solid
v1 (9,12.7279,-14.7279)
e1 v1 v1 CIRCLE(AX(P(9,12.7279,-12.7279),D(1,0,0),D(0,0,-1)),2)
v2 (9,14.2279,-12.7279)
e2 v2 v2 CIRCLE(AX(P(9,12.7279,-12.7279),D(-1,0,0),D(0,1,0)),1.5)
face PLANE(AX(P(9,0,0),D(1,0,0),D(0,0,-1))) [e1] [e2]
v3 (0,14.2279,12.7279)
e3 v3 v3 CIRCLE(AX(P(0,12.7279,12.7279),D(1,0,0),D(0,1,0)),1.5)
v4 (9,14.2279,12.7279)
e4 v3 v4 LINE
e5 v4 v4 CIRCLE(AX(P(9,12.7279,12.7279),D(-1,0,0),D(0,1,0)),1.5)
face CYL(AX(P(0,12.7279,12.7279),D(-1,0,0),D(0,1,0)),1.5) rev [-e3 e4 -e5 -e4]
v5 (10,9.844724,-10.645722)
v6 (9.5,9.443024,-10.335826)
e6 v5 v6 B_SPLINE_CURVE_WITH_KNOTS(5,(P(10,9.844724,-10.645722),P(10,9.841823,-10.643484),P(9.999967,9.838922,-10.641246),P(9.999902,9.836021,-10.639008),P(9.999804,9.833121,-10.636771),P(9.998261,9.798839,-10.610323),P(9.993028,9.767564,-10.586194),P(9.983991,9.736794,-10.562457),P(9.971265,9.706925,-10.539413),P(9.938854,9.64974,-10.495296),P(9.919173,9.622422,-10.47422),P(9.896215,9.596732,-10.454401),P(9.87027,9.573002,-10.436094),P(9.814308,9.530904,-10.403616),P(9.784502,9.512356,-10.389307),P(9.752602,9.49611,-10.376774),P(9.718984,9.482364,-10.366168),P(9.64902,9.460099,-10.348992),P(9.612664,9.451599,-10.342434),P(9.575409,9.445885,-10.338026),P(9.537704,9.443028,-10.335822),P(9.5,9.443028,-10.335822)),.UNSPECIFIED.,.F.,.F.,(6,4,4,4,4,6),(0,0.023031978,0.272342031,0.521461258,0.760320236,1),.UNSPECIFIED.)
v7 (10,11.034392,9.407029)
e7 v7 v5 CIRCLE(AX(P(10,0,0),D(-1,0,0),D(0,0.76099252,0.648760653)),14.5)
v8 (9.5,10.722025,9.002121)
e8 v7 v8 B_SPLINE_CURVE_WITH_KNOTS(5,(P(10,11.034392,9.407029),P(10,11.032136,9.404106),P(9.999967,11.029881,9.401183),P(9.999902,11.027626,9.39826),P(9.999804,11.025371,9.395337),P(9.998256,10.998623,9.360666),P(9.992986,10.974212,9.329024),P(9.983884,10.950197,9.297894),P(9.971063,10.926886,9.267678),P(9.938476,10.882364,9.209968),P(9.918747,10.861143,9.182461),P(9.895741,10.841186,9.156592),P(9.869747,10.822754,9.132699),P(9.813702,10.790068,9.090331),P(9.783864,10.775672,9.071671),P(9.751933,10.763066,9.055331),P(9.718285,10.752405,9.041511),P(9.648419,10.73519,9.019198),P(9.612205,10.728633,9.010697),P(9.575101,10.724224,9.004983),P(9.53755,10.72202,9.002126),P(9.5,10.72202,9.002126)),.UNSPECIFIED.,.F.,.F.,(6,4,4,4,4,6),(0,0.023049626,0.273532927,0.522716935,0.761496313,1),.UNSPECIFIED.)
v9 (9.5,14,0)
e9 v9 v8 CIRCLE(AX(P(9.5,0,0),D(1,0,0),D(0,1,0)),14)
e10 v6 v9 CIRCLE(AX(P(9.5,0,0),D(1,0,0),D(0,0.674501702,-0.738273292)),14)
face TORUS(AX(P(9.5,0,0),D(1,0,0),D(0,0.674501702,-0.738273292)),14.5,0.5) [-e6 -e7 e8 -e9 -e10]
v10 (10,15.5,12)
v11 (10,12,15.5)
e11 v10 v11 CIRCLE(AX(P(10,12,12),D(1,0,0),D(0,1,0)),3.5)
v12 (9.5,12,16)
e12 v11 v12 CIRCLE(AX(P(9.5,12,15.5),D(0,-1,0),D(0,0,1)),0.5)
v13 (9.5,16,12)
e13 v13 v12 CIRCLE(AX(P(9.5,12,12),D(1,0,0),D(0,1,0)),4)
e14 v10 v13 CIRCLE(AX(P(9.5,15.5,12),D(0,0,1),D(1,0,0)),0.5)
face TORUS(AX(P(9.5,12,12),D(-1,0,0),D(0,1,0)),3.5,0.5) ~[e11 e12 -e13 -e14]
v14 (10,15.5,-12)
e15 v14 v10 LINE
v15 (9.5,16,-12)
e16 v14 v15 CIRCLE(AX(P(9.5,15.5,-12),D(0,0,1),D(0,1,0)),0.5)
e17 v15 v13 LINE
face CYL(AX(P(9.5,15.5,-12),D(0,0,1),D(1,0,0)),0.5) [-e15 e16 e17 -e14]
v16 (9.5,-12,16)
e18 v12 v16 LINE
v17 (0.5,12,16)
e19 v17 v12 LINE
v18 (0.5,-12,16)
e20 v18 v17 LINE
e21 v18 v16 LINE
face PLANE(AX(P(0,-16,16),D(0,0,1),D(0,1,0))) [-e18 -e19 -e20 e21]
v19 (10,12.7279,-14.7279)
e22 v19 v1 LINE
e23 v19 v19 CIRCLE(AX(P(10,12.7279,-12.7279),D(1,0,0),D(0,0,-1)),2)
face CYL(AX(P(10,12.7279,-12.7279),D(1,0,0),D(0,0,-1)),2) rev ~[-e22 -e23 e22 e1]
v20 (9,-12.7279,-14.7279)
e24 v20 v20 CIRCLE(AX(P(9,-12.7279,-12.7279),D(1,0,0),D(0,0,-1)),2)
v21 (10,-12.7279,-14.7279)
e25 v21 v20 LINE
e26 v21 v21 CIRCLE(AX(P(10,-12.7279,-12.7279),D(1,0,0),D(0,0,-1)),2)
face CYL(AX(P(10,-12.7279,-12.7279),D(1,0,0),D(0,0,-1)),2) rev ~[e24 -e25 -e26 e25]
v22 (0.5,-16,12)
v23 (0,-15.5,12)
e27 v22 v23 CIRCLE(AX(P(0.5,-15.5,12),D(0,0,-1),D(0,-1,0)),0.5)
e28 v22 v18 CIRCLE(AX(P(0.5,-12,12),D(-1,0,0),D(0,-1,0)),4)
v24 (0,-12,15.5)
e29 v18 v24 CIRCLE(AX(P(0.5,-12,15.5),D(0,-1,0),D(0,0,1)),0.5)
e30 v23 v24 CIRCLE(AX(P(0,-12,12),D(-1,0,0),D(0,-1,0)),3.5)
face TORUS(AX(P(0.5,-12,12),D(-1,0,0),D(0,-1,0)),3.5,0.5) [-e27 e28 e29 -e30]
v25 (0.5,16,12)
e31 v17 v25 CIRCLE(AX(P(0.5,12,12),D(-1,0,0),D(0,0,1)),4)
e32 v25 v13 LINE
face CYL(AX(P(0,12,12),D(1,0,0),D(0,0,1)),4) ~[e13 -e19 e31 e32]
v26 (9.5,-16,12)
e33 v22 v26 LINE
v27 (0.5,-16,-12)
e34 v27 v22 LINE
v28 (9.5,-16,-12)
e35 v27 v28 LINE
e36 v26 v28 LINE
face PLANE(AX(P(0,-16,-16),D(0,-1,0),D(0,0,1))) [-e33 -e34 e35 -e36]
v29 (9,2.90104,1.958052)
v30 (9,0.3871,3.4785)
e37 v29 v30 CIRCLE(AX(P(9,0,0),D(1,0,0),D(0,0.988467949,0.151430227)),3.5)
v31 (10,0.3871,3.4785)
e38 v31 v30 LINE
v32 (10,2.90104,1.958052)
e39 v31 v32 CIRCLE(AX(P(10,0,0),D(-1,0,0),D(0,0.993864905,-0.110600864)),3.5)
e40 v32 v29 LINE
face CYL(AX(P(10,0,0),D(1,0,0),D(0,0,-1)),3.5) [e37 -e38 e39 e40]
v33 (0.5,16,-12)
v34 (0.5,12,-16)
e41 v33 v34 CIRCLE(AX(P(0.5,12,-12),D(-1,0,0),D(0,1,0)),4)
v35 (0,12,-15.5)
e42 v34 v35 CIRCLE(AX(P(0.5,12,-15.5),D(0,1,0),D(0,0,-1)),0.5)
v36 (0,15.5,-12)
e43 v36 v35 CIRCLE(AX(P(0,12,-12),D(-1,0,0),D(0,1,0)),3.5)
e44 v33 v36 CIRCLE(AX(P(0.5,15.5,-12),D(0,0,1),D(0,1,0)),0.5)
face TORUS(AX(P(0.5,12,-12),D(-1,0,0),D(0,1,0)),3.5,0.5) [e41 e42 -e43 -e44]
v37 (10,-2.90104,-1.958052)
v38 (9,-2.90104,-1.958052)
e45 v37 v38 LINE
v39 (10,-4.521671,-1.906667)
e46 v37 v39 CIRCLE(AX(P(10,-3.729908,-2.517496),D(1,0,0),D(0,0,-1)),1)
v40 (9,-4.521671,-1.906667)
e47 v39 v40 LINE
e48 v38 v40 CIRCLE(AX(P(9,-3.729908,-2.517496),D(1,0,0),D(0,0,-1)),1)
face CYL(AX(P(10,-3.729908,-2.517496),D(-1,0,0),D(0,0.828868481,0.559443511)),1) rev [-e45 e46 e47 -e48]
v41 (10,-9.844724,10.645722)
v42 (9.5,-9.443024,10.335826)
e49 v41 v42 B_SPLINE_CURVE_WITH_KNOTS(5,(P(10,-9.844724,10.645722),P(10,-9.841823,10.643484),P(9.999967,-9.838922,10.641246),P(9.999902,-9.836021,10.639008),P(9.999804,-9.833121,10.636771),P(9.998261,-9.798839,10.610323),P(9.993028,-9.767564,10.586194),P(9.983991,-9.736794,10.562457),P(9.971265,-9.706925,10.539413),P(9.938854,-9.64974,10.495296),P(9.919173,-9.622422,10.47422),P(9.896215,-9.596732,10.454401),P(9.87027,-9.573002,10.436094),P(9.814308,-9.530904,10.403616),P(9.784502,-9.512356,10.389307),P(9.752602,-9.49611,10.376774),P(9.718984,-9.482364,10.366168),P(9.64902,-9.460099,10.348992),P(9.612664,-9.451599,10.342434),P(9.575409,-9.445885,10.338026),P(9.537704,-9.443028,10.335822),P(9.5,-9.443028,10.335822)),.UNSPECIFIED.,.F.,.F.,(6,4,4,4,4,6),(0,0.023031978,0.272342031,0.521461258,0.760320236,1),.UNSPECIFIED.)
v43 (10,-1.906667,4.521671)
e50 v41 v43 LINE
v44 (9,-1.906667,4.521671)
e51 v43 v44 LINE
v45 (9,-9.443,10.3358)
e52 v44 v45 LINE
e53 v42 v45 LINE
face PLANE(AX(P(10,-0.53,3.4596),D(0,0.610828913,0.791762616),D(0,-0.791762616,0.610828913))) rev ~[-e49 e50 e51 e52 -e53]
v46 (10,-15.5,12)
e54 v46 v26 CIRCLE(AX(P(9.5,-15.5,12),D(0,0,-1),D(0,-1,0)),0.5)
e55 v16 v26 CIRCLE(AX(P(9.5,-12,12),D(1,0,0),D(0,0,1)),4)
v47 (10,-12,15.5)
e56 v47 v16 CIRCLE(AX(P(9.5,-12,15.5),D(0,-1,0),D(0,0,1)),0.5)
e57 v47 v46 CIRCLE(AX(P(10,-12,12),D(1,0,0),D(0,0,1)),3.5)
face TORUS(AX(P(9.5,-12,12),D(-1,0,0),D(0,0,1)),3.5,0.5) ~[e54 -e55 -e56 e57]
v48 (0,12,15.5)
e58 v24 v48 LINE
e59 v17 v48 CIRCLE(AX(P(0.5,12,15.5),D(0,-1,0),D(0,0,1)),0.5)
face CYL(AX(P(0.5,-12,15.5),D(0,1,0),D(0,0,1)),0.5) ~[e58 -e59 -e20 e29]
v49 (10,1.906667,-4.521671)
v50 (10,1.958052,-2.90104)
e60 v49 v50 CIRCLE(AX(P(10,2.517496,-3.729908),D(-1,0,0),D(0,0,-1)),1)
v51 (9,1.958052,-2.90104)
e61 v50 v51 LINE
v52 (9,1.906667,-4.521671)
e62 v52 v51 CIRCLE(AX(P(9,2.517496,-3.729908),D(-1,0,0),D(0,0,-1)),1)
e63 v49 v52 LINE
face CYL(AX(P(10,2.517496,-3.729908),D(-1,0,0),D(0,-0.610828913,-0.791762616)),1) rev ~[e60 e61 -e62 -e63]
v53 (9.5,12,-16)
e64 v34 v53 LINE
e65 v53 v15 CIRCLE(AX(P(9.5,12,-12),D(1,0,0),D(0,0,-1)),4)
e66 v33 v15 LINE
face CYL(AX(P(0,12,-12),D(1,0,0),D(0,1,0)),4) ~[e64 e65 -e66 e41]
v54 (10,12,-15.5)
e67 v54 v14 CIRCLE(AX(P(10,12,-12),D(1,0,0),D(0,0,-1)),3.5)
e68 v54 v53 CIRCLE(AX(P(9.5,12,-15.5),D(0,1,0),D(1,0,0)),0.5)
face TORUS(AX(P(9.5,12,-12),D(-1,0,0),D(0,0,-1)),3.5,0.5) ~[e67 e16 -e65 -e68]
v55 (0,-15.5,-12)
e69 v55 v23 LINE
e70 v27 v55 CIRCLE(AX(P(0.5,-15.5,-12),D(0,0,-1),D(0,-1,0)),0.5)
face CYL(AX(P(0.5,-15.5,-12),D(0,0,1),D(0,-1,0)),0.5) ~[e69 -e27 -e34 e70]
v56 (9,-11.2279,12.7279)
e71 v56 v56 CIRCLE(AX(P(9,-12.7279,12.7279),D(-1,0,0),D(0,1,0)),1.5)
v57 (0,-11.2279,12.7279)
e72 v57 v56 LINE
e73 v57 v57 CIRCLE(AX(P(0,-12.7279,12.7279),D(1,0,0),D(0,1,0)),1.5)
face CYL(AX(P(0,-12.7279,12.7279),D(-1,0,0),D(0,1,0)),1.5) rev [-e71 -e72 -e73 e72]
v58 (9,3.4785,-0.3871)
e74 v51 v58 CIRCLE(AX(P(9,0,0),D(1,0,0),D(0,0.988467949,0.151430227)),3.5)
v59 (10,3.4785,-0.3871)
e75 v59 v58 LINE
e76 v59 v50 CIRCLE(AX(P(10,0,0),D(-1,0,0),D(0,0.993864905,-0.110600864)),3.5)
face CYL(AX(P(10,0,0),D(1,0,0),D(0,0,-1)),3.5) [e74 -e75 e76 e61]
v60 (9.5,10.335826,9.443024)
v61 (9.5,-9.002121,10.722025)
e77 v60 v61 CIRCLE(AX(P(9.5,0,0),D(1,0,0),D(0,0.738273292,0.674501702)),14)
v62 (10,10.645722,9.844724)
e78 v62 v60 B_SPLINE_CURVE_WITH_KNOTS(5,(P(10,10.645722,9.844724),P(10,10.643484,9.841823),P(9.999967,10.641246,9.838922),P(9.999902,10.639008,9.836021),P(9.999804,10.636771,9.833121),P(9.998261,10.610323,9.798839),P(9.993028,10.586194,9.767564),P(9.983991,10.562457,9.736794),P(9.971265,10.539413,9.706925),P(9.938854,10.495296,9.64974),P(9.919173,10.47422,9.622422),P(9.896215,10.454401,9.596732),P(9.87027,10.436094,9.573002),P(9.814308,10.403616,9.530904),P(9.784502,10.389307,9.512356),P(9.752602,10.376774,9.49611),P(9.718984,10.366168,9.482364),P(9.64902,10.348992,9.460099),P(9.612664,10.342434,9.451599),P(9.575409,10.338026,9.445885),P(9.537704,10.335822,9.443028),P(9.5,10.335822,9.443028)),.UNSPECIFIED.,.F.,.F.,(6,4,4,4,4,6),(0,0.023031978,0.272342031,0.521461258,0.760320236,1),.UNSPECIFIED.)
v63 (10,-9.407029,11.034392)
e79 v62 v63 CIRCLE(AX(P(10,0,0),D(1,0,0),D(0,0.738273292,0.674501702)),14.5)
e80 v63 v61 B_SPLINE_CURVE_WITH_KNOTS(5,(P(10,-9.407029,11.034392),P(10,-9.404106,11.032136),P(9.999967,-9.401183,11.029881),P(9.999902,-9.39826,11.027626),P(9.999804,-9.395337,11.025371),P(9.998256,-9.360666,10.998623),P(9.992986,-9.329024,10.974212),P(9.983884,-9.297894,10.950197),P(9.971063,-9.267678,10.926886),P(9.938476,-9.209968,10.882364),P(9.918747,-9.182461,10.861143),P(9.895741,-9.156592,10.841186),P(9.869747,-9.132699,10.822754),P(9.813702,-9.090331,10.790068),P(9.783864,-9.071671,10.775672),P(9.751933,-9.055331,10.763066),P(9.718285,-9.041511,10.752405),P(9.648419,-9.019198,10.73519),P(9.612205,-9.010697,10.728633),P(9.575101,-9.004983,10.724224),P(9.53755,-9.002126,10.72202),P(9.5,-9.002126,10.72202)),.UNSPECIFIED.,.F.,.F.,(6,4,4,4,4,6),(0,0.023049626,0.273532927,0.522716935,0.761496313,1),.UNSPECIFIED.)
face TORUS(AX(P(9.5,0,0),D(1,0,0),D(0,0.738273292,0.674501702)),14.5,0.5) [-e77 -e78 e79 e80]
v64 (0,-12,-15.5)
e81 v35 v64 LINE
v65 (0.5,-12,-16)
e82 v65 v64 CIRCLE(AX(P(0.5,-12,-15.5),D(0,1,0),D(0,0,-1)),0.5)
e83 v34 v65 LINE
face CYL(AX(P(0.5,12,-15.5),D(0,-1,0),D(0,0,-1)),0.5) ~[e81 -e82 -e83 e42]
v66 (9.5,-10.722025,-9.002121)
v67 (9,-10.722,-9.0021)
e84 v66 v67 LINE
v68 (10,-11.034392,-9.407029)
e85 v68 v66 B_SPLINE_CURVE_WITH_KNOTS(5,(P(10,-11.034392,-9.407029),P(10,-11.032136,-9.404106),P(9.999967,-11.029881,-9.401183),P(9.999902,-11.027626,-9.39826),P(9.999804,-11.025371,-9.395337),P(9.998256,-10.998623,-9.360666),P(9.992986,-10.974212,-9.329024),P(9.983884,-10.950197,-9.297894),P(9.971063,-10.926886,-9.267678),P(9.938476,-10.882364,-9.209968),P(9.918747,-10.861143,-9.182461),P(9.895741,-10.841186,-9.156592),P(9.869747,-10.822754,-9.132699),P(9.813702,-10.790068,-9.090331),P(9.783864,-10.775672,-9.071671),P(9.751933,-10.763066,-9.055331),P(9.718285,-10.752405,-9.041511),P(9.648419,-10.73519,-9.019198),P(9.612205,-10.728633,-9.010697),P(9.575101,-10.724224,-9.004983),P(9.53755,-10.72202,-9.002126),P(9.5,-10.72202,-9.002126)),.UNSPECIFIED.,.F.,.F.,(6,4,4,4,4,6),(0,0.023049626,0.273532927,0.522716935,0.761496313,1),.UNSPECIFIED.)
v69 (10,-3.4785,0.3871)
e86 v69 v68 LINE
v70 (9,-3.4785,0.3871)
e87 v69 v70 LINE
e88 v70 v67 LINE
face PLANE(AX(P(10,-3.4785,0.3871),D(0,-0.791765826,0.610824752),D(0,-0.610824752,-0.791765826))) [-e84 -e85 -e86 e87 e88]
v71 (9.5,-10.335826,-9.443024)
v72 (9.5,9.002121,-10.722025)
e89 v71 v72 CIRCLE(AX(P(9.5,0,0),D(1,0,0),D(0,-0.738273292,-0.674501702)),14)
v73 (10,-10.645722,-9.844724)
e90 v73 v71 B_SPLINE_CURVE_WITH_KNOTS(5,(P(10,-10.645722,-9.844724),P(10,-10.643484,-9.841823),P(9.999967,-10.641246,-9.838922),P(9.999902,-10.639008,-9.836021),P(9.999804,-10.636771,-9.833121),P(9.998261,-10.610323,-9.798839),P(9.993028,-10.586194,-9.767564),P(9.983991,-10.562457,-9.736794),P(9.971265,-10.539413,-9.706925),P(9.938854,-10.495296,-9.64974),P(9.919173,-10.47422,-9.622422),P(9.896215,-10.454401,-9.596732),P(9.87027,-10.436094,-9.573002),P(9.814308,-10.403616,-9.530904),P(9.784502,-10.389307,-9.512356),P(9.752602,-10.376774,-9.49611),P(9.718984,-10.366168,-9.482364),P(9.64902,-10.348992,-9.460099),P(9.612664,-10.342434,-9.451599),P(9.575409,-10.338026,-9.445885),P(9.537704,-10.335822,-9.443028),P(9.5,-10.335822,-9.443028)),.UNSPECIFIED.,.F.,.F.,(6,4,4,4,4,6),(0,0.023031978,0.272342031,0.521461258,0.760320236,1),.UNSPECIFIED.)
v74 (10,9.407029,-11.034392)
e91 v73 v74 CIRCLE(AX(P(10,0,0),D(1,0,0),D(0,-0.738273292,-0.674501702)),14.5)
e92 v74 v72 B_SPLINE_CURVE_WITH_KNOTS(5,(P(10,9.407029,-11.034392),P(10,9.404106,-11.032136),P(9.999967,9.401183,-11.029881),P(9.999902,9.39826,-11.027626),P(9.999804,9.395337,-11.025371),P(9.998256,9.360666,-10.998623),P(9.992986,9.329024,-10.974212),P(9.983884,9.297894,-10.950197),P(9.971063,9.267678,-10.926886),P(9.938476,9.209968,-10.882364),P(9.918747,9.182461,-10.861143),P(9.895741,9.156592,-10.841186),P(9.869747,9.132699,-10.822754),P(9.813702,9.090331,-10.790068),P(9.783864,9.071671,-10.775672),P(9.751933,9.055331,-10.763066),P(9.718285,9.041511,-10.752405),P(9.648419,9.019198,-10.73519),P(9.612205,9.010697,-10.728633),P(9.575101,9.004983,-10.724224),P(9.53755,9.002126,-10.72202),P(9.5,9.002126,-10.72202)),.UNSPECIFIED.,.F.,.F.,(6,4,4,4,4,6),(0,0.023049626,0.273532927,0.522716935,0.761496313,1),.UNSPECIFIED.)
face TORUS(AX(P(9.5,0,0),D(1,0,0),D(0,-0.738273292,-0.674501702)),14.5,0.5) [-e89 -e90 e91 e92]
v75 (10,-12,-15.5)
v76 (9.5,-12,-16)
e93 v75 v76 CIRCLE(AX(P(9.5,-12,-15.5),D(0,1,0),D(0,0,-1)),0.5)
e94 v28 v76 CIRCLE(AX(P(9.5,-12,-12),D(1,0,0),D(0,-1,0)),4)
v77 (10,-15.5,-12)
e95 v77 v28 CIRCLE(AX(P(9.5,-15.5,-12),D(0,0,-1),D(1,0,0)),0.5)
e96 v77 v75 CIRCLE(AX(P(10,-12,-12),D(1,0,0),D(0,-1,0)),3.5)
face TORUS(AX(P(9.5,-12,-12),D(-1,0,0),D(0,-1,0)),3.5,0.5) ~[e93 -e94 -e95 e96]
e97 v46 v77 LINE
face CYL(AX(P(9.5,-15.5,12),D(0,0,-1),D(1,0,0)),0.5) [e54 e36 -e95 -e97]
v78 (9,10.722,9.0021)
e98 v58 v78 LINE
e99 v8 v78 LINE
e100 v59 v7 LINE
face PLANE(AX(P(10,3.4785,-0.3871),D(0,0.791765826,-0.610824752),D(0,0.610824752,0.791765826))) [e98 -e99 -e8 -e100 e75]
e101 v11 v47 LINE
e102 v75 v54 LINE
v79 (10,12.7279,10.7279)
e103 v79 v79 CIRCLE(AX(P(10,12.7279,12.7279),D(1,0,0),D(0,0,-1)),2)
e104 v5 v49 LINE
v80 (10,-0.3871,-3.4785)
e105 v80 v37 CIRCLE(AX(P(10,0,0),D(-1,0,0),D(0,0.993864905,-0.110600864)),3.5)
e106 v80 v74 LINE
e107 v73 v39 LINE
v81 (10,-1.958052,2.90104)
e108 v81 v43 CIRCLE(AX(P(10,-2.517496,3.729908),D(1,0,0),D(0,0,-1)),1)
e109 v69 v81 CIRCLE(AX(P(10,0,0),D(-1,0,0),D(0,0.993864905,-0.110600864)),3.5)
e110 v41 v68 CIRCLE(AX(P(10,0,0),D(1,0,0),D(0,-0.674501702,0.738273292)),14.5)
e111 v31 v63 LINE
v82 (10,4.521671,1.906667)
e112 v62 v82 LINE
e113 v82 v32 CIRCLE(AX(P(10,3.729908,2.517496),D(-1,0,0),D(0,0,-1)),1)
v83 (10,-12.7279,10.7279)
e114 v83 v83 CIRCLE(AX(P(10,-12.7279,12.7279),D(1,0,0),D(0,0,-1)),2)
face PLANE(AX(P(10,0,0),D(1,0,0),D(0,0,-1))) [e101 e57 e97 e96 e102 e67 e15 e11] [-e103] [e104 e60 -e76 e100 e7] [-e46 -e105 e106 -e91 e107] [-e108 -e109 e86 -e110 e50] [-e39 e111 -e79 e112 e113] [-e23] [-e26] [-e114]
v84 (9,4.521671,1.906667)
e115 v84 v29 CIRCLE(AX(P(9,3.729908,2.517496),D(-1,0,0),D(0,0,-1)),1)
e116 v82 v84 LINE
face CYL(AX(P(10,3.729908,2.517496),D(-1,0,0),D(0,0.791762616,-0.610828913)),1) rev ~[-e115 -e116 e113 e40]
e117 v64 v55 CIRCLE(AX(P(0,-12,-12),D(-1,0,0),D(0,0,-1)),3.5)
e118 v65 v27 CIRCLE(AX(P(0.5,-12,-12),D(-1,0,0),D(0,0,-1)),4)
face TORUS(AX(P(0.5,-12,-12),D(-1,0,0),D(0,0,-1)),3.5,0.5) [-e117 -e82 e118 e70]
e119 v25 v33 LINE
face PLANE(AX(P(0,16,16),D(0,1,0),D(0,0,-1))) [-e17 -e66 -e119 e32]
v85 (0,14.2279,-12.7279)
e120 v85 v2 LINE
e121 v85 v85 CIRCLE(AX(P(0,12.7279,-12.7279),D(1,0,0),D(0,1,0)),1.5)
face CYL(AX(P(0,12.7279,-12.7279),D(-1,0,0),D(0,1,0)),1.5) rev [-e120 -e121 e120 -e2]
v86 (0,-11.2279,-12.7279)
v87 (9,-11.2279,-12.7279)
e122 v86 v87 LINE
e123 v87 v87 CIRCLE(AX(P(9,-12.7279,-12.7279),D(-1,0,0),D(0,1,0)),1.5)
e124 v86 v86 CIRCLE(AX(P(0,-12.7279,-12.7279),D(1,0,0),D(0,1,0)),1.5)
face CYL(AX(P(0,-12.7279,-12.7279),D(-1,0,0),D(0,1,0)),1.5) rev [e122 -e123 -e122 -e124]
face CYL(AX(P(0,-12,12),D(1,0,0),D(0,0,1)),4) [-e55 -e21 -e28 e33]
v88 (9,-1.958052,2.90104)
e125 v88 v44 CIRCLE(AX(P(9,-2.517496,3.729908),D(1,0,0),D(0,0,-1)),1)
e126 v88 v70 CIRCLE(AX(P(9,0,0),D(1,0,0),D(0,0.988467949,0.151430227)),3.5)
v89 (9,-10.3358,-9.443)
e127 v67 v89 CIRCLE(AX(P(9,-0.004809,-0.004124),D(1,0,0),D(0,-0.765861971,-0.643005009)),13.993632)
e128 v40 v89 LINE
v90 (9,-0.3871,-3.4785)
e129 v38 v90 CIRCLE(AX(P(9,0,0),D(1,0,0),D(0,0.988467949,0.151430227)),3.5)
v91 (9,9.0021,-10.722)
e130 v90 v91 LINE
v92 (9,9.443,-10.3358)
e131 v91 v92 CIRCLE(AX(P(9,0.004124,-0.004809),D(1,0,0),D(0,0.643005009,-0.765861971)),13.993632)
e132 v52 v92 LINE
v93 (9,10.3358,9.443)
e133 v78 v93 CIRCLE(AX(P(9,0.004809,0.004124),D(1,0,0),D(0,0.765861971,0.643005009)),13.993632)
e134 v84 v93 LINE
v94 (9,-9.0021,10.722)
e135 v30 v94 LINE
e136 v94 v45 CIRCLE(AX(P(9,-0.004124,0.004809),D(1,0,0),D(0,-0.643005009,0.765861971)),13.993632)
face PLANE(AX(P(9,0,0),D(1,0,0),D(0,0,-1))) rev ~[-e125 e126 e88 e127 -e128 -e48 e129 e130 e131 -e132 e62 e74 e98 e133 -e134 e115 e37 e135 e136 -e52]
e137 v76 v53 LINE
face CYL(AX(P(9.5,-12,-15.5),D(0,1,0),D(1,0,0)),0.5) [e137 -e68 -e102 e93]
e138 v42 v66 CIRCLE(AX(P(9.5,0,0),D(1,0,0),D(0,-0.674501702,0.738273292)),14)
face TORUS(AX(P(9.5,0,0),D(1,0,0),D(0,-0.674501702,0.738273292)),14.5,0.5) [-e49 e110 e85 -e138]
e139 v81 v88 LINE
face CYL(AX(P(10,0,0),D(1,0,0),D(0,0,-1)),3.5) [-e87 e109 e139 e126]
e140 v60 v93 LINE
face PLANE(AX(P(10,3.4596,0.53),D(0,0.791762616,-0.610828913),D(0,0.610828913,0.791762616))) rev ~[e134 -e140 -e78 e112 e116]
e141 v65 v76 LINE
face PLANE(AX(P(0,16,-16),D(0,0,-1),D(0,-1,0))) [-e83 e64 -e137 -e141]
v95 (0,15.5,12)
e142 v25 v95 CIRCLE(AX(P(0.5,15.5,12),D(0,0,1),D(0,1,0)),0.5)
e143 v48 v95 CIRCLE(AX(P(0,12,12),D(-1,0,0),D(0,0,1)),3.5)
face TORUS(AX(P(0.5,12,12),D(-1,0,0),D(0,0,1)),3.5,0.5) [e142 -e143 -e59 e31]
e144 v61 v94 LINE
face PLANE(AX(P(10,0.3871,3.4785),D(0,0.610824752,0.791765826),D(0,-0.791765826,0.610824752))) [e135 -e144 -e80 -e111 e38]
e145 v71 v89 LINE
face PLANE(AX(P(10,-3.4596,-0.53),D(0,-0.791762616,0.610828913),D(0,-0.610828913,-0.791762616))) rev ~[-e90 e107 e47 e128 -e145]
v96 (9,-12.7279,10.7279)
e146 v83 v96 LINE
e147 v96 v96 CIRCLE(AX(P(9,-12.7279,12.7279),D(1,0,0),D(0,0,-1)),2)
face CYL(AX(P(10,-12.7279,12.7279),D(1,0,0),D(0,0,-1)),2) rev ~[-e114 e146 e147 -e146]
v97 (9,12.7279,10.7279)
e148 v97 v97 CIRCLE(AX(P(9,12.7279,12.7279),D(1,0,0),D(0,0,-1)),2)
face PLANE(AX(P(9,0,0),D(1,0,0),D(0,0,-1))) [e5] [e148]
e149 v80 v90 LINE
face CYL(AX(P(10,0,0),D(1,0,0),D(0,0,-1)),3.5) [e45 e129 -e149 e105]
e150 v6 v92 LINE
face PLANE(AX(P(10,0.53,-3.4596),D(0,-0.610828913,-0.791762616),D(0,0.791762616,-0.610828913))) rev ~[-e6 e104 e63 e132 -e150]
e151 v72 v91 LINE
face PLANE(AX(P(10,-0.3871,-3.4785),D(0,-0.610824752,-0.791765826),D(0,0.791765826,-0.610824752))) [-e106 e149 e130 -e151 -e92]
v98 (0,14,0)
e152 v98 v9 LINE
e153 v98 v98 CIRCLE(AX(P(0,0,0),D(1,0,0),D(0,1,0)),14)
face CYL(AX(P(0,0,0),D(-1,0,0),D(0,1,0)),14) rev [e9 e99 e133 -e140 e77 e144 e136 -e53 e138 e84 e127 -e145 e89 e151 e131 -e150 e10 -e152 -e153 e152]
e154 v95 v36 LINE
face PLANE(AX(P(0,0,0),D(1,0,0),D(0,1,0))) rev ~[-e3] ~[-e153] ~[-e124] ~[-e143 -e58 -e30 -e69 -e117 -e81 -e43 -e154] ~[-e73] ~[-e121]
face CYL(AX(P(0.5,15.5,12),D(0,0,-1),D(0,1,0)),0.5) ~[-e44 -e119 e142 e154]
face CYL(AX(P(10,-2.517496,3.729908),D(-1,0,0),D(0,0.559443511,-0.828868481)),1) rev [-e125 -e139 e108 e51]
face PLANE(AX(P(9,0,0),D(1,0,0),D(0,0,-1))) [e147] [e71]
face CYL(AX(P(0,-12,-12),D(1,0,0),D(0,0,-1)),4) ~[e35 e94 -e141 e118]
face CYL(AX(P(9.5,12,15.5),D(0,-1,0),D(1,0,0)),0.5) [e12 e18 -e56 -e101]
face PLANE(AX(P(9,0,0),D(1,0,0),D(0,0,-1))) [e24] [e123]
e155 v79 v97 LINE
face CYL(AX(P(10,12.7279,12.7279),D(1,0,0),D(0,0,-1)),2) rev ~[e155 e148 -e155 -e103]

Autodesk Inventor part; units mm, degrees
ref_plane "YZ Plane" through (0, 0, 0) normal (1, 0, 0) x (0, 1, 0)
ref_plane "XZ Plane" through (0, 0, 0) normal (0, 1, 0) x (-1, 0, 0)
ref_plane "XY Plane" through (0, 0, 0) normal (0, 0, 1) x (1, 0, 0)
sketch "Szkic1" plane through (0, 0, 0) normal (1, 0, 0) x (0, 1, 0)
  line L0 (-16, 16) -> (16, 16)
  line L1 (16, 16) -> (16, -16)
  line L2 (16, -16) -> (-16, -16)
  line L3 (-16, -16) -> (-16, 16)
  line L4 (-16, 16) -> (16, -16) construction
  line L5 (16, 16) -> (-16, -16) construction
  line L6 (0, 0) -> (12.7279, 12.7279) construction
  circle A0 centre (12.7279, 12.7279) radius 1.5
  line L7 (0, 0) -> (0, 7.3193) construction
  line L8 (0, 0) -> (3.8373, 0) construction
  circle A1 centre (-12.7279, 12.7279) radius 1.5
  circle A2 centre (12.7279, -12.7279) radius 1.5
  circle A3 centre (-12.7279, -12.7279) radius 1.5
  circle A4 centre (0, 0) radius 14
  dimension "d0" = 32
  dimension "d1" = 32
  dimension "d2" = 18
  dimension "d3" = 3
  dimension "d4" = 28
extrude "Wyciągnięcie proste1" add sketch "Szkic1" along normal blind 10
fillet "Zaokrąglenie1" radius 4 4 edges at (5, 16, 16) (5, 16, -16) (5, -16, 16) (5, -16, -16)
sketch "Szkic2" plane through (10, 0, 0) normal (1, 0, 0) x (0, 0, -1)
  circle A0 centre (0, 0) radius 3.5
  line L0 (0, 3.5) -> (-1, 3.5) construction
  line L1 (-1, 3.5) -> (1, 3.5) construction
  circle A1 centre (0, 0) radius 14 construction
  line L2 (0, 0) -> (0, 1.6463) construction
  arc A2 (-1, 3.3541) -> (-1.5597, 13.9129) centre (-31.1594, 7.0497) ccw
  arc A3 (1.5597, 13.9129) -> (1, 3.3541) centre (31.1594, 7.0497) ccw
  arc A4 (1.5597, 13.9129) -> (-1.5597, 13.9129) centre (0, 0) ccw
  dimension "d8" = 7
  dimension "d9" = 1
  dimension "d10" = 2
extrude "Wyciągnięcie proste2" add sketch "Szkic2" against normal blind 1 contours A0
sketch "Szkic3" plane through (10, 0, 0) normal (1, 0, 0) x (0, 0, -1)
  arc A0 (0.3871, 3.4785) -> (-0.53, 3.4596) centre (0, 0) ccw
  arc A1 (-9.0021, 10.722) -> (-9.443, 10.3358) centre (0, 0) ccw
  circle A2 centre (0, 0) radius 3.5 projected
  line L0 (-0.53, 3.4596) -> (-9.443, 10.3358)
  circle A3 centre (0, 0) radius 14 projected
  line L1 (0.3871, 3.4785) -> (-9.0021, 10.722)
extrude "Wyciągnięcie proste3" add sketch "Szkic3" against normal blind 1 contours A0 L0 A1 L1
pattern_circular "Szyk kołowy1" count 4 over 360 about axis through (10, 0, 0) along (-1, 0, 0) of "Wyciągnięcie proste3"
fillet "Zaokrąglenie2" radius 1 4 edges at (9.5, 3.4596, 0.53) (9.5, 0.53, -3.4596) (9.5, -0.53, 3.4596) (9.5, -3.4596, -0.53)
fillet "Zaokrąglenie3" radius 0.5 16 edges at (10, -14.8284, 14.8284) (10, -16, 0) (10, -14.8284, -14.8284) (10, 0, -16) (10, 14.8284, -14.8284) (10, 16, 0) (10, 14.8284, 14.8284) (10, 0, 16) (0, 14.8284, 14.8284) (0, 16, 0) (0, 14.8284, -14.8284) (0, 0, -16) (0, -14.8284, -14.8284) (0, -16, 0) (0, -14.8284, 14.8284) (0, 0, 16)
fillet "Zaokrąglenie4" radius 0.5 5 edges at (10, -13.9695, 0.9239) (10, -0.9239, -13.9695) (10, 13.155, 4.7902) (10, 12.8102, -5.6479) (10, 0.9239, 13.9695)
sketch "Szkic4" plane through (10, 0, 0) normal (1, 0, 0) x (0, 0, -1)
  circle A0 centre (-12.7279, 12.7279) radius 1.5 projected
  circle A1 centre (-12.7279, 12.7279) radius 2
  circle A2 centre (12.7279, 12.7279) radius 1.5 projected
  circle A3 centre (12.7279, 12.7279) radius 2
  circle A4 centre (12.7279, -12.7279) radius 1.5 projected
  circle A5 centre (12.7279, -12.7279) radius 2
  circle A6 centre (-12.7279, -12.7279) radius 1.5 projected
  circle A7 centre (-12.7279, -12.7279) radius 2
  point P0 (0, 0)
  dimension "d21" = 4
  dimension "d22" = 4
  dimension "d23" = 4
  dimension "d24" = 4
extrude "Wyciągnięcie proste4" cut sketch "Szkic4" against normal blind 1
properties part number "WIATRAK"
